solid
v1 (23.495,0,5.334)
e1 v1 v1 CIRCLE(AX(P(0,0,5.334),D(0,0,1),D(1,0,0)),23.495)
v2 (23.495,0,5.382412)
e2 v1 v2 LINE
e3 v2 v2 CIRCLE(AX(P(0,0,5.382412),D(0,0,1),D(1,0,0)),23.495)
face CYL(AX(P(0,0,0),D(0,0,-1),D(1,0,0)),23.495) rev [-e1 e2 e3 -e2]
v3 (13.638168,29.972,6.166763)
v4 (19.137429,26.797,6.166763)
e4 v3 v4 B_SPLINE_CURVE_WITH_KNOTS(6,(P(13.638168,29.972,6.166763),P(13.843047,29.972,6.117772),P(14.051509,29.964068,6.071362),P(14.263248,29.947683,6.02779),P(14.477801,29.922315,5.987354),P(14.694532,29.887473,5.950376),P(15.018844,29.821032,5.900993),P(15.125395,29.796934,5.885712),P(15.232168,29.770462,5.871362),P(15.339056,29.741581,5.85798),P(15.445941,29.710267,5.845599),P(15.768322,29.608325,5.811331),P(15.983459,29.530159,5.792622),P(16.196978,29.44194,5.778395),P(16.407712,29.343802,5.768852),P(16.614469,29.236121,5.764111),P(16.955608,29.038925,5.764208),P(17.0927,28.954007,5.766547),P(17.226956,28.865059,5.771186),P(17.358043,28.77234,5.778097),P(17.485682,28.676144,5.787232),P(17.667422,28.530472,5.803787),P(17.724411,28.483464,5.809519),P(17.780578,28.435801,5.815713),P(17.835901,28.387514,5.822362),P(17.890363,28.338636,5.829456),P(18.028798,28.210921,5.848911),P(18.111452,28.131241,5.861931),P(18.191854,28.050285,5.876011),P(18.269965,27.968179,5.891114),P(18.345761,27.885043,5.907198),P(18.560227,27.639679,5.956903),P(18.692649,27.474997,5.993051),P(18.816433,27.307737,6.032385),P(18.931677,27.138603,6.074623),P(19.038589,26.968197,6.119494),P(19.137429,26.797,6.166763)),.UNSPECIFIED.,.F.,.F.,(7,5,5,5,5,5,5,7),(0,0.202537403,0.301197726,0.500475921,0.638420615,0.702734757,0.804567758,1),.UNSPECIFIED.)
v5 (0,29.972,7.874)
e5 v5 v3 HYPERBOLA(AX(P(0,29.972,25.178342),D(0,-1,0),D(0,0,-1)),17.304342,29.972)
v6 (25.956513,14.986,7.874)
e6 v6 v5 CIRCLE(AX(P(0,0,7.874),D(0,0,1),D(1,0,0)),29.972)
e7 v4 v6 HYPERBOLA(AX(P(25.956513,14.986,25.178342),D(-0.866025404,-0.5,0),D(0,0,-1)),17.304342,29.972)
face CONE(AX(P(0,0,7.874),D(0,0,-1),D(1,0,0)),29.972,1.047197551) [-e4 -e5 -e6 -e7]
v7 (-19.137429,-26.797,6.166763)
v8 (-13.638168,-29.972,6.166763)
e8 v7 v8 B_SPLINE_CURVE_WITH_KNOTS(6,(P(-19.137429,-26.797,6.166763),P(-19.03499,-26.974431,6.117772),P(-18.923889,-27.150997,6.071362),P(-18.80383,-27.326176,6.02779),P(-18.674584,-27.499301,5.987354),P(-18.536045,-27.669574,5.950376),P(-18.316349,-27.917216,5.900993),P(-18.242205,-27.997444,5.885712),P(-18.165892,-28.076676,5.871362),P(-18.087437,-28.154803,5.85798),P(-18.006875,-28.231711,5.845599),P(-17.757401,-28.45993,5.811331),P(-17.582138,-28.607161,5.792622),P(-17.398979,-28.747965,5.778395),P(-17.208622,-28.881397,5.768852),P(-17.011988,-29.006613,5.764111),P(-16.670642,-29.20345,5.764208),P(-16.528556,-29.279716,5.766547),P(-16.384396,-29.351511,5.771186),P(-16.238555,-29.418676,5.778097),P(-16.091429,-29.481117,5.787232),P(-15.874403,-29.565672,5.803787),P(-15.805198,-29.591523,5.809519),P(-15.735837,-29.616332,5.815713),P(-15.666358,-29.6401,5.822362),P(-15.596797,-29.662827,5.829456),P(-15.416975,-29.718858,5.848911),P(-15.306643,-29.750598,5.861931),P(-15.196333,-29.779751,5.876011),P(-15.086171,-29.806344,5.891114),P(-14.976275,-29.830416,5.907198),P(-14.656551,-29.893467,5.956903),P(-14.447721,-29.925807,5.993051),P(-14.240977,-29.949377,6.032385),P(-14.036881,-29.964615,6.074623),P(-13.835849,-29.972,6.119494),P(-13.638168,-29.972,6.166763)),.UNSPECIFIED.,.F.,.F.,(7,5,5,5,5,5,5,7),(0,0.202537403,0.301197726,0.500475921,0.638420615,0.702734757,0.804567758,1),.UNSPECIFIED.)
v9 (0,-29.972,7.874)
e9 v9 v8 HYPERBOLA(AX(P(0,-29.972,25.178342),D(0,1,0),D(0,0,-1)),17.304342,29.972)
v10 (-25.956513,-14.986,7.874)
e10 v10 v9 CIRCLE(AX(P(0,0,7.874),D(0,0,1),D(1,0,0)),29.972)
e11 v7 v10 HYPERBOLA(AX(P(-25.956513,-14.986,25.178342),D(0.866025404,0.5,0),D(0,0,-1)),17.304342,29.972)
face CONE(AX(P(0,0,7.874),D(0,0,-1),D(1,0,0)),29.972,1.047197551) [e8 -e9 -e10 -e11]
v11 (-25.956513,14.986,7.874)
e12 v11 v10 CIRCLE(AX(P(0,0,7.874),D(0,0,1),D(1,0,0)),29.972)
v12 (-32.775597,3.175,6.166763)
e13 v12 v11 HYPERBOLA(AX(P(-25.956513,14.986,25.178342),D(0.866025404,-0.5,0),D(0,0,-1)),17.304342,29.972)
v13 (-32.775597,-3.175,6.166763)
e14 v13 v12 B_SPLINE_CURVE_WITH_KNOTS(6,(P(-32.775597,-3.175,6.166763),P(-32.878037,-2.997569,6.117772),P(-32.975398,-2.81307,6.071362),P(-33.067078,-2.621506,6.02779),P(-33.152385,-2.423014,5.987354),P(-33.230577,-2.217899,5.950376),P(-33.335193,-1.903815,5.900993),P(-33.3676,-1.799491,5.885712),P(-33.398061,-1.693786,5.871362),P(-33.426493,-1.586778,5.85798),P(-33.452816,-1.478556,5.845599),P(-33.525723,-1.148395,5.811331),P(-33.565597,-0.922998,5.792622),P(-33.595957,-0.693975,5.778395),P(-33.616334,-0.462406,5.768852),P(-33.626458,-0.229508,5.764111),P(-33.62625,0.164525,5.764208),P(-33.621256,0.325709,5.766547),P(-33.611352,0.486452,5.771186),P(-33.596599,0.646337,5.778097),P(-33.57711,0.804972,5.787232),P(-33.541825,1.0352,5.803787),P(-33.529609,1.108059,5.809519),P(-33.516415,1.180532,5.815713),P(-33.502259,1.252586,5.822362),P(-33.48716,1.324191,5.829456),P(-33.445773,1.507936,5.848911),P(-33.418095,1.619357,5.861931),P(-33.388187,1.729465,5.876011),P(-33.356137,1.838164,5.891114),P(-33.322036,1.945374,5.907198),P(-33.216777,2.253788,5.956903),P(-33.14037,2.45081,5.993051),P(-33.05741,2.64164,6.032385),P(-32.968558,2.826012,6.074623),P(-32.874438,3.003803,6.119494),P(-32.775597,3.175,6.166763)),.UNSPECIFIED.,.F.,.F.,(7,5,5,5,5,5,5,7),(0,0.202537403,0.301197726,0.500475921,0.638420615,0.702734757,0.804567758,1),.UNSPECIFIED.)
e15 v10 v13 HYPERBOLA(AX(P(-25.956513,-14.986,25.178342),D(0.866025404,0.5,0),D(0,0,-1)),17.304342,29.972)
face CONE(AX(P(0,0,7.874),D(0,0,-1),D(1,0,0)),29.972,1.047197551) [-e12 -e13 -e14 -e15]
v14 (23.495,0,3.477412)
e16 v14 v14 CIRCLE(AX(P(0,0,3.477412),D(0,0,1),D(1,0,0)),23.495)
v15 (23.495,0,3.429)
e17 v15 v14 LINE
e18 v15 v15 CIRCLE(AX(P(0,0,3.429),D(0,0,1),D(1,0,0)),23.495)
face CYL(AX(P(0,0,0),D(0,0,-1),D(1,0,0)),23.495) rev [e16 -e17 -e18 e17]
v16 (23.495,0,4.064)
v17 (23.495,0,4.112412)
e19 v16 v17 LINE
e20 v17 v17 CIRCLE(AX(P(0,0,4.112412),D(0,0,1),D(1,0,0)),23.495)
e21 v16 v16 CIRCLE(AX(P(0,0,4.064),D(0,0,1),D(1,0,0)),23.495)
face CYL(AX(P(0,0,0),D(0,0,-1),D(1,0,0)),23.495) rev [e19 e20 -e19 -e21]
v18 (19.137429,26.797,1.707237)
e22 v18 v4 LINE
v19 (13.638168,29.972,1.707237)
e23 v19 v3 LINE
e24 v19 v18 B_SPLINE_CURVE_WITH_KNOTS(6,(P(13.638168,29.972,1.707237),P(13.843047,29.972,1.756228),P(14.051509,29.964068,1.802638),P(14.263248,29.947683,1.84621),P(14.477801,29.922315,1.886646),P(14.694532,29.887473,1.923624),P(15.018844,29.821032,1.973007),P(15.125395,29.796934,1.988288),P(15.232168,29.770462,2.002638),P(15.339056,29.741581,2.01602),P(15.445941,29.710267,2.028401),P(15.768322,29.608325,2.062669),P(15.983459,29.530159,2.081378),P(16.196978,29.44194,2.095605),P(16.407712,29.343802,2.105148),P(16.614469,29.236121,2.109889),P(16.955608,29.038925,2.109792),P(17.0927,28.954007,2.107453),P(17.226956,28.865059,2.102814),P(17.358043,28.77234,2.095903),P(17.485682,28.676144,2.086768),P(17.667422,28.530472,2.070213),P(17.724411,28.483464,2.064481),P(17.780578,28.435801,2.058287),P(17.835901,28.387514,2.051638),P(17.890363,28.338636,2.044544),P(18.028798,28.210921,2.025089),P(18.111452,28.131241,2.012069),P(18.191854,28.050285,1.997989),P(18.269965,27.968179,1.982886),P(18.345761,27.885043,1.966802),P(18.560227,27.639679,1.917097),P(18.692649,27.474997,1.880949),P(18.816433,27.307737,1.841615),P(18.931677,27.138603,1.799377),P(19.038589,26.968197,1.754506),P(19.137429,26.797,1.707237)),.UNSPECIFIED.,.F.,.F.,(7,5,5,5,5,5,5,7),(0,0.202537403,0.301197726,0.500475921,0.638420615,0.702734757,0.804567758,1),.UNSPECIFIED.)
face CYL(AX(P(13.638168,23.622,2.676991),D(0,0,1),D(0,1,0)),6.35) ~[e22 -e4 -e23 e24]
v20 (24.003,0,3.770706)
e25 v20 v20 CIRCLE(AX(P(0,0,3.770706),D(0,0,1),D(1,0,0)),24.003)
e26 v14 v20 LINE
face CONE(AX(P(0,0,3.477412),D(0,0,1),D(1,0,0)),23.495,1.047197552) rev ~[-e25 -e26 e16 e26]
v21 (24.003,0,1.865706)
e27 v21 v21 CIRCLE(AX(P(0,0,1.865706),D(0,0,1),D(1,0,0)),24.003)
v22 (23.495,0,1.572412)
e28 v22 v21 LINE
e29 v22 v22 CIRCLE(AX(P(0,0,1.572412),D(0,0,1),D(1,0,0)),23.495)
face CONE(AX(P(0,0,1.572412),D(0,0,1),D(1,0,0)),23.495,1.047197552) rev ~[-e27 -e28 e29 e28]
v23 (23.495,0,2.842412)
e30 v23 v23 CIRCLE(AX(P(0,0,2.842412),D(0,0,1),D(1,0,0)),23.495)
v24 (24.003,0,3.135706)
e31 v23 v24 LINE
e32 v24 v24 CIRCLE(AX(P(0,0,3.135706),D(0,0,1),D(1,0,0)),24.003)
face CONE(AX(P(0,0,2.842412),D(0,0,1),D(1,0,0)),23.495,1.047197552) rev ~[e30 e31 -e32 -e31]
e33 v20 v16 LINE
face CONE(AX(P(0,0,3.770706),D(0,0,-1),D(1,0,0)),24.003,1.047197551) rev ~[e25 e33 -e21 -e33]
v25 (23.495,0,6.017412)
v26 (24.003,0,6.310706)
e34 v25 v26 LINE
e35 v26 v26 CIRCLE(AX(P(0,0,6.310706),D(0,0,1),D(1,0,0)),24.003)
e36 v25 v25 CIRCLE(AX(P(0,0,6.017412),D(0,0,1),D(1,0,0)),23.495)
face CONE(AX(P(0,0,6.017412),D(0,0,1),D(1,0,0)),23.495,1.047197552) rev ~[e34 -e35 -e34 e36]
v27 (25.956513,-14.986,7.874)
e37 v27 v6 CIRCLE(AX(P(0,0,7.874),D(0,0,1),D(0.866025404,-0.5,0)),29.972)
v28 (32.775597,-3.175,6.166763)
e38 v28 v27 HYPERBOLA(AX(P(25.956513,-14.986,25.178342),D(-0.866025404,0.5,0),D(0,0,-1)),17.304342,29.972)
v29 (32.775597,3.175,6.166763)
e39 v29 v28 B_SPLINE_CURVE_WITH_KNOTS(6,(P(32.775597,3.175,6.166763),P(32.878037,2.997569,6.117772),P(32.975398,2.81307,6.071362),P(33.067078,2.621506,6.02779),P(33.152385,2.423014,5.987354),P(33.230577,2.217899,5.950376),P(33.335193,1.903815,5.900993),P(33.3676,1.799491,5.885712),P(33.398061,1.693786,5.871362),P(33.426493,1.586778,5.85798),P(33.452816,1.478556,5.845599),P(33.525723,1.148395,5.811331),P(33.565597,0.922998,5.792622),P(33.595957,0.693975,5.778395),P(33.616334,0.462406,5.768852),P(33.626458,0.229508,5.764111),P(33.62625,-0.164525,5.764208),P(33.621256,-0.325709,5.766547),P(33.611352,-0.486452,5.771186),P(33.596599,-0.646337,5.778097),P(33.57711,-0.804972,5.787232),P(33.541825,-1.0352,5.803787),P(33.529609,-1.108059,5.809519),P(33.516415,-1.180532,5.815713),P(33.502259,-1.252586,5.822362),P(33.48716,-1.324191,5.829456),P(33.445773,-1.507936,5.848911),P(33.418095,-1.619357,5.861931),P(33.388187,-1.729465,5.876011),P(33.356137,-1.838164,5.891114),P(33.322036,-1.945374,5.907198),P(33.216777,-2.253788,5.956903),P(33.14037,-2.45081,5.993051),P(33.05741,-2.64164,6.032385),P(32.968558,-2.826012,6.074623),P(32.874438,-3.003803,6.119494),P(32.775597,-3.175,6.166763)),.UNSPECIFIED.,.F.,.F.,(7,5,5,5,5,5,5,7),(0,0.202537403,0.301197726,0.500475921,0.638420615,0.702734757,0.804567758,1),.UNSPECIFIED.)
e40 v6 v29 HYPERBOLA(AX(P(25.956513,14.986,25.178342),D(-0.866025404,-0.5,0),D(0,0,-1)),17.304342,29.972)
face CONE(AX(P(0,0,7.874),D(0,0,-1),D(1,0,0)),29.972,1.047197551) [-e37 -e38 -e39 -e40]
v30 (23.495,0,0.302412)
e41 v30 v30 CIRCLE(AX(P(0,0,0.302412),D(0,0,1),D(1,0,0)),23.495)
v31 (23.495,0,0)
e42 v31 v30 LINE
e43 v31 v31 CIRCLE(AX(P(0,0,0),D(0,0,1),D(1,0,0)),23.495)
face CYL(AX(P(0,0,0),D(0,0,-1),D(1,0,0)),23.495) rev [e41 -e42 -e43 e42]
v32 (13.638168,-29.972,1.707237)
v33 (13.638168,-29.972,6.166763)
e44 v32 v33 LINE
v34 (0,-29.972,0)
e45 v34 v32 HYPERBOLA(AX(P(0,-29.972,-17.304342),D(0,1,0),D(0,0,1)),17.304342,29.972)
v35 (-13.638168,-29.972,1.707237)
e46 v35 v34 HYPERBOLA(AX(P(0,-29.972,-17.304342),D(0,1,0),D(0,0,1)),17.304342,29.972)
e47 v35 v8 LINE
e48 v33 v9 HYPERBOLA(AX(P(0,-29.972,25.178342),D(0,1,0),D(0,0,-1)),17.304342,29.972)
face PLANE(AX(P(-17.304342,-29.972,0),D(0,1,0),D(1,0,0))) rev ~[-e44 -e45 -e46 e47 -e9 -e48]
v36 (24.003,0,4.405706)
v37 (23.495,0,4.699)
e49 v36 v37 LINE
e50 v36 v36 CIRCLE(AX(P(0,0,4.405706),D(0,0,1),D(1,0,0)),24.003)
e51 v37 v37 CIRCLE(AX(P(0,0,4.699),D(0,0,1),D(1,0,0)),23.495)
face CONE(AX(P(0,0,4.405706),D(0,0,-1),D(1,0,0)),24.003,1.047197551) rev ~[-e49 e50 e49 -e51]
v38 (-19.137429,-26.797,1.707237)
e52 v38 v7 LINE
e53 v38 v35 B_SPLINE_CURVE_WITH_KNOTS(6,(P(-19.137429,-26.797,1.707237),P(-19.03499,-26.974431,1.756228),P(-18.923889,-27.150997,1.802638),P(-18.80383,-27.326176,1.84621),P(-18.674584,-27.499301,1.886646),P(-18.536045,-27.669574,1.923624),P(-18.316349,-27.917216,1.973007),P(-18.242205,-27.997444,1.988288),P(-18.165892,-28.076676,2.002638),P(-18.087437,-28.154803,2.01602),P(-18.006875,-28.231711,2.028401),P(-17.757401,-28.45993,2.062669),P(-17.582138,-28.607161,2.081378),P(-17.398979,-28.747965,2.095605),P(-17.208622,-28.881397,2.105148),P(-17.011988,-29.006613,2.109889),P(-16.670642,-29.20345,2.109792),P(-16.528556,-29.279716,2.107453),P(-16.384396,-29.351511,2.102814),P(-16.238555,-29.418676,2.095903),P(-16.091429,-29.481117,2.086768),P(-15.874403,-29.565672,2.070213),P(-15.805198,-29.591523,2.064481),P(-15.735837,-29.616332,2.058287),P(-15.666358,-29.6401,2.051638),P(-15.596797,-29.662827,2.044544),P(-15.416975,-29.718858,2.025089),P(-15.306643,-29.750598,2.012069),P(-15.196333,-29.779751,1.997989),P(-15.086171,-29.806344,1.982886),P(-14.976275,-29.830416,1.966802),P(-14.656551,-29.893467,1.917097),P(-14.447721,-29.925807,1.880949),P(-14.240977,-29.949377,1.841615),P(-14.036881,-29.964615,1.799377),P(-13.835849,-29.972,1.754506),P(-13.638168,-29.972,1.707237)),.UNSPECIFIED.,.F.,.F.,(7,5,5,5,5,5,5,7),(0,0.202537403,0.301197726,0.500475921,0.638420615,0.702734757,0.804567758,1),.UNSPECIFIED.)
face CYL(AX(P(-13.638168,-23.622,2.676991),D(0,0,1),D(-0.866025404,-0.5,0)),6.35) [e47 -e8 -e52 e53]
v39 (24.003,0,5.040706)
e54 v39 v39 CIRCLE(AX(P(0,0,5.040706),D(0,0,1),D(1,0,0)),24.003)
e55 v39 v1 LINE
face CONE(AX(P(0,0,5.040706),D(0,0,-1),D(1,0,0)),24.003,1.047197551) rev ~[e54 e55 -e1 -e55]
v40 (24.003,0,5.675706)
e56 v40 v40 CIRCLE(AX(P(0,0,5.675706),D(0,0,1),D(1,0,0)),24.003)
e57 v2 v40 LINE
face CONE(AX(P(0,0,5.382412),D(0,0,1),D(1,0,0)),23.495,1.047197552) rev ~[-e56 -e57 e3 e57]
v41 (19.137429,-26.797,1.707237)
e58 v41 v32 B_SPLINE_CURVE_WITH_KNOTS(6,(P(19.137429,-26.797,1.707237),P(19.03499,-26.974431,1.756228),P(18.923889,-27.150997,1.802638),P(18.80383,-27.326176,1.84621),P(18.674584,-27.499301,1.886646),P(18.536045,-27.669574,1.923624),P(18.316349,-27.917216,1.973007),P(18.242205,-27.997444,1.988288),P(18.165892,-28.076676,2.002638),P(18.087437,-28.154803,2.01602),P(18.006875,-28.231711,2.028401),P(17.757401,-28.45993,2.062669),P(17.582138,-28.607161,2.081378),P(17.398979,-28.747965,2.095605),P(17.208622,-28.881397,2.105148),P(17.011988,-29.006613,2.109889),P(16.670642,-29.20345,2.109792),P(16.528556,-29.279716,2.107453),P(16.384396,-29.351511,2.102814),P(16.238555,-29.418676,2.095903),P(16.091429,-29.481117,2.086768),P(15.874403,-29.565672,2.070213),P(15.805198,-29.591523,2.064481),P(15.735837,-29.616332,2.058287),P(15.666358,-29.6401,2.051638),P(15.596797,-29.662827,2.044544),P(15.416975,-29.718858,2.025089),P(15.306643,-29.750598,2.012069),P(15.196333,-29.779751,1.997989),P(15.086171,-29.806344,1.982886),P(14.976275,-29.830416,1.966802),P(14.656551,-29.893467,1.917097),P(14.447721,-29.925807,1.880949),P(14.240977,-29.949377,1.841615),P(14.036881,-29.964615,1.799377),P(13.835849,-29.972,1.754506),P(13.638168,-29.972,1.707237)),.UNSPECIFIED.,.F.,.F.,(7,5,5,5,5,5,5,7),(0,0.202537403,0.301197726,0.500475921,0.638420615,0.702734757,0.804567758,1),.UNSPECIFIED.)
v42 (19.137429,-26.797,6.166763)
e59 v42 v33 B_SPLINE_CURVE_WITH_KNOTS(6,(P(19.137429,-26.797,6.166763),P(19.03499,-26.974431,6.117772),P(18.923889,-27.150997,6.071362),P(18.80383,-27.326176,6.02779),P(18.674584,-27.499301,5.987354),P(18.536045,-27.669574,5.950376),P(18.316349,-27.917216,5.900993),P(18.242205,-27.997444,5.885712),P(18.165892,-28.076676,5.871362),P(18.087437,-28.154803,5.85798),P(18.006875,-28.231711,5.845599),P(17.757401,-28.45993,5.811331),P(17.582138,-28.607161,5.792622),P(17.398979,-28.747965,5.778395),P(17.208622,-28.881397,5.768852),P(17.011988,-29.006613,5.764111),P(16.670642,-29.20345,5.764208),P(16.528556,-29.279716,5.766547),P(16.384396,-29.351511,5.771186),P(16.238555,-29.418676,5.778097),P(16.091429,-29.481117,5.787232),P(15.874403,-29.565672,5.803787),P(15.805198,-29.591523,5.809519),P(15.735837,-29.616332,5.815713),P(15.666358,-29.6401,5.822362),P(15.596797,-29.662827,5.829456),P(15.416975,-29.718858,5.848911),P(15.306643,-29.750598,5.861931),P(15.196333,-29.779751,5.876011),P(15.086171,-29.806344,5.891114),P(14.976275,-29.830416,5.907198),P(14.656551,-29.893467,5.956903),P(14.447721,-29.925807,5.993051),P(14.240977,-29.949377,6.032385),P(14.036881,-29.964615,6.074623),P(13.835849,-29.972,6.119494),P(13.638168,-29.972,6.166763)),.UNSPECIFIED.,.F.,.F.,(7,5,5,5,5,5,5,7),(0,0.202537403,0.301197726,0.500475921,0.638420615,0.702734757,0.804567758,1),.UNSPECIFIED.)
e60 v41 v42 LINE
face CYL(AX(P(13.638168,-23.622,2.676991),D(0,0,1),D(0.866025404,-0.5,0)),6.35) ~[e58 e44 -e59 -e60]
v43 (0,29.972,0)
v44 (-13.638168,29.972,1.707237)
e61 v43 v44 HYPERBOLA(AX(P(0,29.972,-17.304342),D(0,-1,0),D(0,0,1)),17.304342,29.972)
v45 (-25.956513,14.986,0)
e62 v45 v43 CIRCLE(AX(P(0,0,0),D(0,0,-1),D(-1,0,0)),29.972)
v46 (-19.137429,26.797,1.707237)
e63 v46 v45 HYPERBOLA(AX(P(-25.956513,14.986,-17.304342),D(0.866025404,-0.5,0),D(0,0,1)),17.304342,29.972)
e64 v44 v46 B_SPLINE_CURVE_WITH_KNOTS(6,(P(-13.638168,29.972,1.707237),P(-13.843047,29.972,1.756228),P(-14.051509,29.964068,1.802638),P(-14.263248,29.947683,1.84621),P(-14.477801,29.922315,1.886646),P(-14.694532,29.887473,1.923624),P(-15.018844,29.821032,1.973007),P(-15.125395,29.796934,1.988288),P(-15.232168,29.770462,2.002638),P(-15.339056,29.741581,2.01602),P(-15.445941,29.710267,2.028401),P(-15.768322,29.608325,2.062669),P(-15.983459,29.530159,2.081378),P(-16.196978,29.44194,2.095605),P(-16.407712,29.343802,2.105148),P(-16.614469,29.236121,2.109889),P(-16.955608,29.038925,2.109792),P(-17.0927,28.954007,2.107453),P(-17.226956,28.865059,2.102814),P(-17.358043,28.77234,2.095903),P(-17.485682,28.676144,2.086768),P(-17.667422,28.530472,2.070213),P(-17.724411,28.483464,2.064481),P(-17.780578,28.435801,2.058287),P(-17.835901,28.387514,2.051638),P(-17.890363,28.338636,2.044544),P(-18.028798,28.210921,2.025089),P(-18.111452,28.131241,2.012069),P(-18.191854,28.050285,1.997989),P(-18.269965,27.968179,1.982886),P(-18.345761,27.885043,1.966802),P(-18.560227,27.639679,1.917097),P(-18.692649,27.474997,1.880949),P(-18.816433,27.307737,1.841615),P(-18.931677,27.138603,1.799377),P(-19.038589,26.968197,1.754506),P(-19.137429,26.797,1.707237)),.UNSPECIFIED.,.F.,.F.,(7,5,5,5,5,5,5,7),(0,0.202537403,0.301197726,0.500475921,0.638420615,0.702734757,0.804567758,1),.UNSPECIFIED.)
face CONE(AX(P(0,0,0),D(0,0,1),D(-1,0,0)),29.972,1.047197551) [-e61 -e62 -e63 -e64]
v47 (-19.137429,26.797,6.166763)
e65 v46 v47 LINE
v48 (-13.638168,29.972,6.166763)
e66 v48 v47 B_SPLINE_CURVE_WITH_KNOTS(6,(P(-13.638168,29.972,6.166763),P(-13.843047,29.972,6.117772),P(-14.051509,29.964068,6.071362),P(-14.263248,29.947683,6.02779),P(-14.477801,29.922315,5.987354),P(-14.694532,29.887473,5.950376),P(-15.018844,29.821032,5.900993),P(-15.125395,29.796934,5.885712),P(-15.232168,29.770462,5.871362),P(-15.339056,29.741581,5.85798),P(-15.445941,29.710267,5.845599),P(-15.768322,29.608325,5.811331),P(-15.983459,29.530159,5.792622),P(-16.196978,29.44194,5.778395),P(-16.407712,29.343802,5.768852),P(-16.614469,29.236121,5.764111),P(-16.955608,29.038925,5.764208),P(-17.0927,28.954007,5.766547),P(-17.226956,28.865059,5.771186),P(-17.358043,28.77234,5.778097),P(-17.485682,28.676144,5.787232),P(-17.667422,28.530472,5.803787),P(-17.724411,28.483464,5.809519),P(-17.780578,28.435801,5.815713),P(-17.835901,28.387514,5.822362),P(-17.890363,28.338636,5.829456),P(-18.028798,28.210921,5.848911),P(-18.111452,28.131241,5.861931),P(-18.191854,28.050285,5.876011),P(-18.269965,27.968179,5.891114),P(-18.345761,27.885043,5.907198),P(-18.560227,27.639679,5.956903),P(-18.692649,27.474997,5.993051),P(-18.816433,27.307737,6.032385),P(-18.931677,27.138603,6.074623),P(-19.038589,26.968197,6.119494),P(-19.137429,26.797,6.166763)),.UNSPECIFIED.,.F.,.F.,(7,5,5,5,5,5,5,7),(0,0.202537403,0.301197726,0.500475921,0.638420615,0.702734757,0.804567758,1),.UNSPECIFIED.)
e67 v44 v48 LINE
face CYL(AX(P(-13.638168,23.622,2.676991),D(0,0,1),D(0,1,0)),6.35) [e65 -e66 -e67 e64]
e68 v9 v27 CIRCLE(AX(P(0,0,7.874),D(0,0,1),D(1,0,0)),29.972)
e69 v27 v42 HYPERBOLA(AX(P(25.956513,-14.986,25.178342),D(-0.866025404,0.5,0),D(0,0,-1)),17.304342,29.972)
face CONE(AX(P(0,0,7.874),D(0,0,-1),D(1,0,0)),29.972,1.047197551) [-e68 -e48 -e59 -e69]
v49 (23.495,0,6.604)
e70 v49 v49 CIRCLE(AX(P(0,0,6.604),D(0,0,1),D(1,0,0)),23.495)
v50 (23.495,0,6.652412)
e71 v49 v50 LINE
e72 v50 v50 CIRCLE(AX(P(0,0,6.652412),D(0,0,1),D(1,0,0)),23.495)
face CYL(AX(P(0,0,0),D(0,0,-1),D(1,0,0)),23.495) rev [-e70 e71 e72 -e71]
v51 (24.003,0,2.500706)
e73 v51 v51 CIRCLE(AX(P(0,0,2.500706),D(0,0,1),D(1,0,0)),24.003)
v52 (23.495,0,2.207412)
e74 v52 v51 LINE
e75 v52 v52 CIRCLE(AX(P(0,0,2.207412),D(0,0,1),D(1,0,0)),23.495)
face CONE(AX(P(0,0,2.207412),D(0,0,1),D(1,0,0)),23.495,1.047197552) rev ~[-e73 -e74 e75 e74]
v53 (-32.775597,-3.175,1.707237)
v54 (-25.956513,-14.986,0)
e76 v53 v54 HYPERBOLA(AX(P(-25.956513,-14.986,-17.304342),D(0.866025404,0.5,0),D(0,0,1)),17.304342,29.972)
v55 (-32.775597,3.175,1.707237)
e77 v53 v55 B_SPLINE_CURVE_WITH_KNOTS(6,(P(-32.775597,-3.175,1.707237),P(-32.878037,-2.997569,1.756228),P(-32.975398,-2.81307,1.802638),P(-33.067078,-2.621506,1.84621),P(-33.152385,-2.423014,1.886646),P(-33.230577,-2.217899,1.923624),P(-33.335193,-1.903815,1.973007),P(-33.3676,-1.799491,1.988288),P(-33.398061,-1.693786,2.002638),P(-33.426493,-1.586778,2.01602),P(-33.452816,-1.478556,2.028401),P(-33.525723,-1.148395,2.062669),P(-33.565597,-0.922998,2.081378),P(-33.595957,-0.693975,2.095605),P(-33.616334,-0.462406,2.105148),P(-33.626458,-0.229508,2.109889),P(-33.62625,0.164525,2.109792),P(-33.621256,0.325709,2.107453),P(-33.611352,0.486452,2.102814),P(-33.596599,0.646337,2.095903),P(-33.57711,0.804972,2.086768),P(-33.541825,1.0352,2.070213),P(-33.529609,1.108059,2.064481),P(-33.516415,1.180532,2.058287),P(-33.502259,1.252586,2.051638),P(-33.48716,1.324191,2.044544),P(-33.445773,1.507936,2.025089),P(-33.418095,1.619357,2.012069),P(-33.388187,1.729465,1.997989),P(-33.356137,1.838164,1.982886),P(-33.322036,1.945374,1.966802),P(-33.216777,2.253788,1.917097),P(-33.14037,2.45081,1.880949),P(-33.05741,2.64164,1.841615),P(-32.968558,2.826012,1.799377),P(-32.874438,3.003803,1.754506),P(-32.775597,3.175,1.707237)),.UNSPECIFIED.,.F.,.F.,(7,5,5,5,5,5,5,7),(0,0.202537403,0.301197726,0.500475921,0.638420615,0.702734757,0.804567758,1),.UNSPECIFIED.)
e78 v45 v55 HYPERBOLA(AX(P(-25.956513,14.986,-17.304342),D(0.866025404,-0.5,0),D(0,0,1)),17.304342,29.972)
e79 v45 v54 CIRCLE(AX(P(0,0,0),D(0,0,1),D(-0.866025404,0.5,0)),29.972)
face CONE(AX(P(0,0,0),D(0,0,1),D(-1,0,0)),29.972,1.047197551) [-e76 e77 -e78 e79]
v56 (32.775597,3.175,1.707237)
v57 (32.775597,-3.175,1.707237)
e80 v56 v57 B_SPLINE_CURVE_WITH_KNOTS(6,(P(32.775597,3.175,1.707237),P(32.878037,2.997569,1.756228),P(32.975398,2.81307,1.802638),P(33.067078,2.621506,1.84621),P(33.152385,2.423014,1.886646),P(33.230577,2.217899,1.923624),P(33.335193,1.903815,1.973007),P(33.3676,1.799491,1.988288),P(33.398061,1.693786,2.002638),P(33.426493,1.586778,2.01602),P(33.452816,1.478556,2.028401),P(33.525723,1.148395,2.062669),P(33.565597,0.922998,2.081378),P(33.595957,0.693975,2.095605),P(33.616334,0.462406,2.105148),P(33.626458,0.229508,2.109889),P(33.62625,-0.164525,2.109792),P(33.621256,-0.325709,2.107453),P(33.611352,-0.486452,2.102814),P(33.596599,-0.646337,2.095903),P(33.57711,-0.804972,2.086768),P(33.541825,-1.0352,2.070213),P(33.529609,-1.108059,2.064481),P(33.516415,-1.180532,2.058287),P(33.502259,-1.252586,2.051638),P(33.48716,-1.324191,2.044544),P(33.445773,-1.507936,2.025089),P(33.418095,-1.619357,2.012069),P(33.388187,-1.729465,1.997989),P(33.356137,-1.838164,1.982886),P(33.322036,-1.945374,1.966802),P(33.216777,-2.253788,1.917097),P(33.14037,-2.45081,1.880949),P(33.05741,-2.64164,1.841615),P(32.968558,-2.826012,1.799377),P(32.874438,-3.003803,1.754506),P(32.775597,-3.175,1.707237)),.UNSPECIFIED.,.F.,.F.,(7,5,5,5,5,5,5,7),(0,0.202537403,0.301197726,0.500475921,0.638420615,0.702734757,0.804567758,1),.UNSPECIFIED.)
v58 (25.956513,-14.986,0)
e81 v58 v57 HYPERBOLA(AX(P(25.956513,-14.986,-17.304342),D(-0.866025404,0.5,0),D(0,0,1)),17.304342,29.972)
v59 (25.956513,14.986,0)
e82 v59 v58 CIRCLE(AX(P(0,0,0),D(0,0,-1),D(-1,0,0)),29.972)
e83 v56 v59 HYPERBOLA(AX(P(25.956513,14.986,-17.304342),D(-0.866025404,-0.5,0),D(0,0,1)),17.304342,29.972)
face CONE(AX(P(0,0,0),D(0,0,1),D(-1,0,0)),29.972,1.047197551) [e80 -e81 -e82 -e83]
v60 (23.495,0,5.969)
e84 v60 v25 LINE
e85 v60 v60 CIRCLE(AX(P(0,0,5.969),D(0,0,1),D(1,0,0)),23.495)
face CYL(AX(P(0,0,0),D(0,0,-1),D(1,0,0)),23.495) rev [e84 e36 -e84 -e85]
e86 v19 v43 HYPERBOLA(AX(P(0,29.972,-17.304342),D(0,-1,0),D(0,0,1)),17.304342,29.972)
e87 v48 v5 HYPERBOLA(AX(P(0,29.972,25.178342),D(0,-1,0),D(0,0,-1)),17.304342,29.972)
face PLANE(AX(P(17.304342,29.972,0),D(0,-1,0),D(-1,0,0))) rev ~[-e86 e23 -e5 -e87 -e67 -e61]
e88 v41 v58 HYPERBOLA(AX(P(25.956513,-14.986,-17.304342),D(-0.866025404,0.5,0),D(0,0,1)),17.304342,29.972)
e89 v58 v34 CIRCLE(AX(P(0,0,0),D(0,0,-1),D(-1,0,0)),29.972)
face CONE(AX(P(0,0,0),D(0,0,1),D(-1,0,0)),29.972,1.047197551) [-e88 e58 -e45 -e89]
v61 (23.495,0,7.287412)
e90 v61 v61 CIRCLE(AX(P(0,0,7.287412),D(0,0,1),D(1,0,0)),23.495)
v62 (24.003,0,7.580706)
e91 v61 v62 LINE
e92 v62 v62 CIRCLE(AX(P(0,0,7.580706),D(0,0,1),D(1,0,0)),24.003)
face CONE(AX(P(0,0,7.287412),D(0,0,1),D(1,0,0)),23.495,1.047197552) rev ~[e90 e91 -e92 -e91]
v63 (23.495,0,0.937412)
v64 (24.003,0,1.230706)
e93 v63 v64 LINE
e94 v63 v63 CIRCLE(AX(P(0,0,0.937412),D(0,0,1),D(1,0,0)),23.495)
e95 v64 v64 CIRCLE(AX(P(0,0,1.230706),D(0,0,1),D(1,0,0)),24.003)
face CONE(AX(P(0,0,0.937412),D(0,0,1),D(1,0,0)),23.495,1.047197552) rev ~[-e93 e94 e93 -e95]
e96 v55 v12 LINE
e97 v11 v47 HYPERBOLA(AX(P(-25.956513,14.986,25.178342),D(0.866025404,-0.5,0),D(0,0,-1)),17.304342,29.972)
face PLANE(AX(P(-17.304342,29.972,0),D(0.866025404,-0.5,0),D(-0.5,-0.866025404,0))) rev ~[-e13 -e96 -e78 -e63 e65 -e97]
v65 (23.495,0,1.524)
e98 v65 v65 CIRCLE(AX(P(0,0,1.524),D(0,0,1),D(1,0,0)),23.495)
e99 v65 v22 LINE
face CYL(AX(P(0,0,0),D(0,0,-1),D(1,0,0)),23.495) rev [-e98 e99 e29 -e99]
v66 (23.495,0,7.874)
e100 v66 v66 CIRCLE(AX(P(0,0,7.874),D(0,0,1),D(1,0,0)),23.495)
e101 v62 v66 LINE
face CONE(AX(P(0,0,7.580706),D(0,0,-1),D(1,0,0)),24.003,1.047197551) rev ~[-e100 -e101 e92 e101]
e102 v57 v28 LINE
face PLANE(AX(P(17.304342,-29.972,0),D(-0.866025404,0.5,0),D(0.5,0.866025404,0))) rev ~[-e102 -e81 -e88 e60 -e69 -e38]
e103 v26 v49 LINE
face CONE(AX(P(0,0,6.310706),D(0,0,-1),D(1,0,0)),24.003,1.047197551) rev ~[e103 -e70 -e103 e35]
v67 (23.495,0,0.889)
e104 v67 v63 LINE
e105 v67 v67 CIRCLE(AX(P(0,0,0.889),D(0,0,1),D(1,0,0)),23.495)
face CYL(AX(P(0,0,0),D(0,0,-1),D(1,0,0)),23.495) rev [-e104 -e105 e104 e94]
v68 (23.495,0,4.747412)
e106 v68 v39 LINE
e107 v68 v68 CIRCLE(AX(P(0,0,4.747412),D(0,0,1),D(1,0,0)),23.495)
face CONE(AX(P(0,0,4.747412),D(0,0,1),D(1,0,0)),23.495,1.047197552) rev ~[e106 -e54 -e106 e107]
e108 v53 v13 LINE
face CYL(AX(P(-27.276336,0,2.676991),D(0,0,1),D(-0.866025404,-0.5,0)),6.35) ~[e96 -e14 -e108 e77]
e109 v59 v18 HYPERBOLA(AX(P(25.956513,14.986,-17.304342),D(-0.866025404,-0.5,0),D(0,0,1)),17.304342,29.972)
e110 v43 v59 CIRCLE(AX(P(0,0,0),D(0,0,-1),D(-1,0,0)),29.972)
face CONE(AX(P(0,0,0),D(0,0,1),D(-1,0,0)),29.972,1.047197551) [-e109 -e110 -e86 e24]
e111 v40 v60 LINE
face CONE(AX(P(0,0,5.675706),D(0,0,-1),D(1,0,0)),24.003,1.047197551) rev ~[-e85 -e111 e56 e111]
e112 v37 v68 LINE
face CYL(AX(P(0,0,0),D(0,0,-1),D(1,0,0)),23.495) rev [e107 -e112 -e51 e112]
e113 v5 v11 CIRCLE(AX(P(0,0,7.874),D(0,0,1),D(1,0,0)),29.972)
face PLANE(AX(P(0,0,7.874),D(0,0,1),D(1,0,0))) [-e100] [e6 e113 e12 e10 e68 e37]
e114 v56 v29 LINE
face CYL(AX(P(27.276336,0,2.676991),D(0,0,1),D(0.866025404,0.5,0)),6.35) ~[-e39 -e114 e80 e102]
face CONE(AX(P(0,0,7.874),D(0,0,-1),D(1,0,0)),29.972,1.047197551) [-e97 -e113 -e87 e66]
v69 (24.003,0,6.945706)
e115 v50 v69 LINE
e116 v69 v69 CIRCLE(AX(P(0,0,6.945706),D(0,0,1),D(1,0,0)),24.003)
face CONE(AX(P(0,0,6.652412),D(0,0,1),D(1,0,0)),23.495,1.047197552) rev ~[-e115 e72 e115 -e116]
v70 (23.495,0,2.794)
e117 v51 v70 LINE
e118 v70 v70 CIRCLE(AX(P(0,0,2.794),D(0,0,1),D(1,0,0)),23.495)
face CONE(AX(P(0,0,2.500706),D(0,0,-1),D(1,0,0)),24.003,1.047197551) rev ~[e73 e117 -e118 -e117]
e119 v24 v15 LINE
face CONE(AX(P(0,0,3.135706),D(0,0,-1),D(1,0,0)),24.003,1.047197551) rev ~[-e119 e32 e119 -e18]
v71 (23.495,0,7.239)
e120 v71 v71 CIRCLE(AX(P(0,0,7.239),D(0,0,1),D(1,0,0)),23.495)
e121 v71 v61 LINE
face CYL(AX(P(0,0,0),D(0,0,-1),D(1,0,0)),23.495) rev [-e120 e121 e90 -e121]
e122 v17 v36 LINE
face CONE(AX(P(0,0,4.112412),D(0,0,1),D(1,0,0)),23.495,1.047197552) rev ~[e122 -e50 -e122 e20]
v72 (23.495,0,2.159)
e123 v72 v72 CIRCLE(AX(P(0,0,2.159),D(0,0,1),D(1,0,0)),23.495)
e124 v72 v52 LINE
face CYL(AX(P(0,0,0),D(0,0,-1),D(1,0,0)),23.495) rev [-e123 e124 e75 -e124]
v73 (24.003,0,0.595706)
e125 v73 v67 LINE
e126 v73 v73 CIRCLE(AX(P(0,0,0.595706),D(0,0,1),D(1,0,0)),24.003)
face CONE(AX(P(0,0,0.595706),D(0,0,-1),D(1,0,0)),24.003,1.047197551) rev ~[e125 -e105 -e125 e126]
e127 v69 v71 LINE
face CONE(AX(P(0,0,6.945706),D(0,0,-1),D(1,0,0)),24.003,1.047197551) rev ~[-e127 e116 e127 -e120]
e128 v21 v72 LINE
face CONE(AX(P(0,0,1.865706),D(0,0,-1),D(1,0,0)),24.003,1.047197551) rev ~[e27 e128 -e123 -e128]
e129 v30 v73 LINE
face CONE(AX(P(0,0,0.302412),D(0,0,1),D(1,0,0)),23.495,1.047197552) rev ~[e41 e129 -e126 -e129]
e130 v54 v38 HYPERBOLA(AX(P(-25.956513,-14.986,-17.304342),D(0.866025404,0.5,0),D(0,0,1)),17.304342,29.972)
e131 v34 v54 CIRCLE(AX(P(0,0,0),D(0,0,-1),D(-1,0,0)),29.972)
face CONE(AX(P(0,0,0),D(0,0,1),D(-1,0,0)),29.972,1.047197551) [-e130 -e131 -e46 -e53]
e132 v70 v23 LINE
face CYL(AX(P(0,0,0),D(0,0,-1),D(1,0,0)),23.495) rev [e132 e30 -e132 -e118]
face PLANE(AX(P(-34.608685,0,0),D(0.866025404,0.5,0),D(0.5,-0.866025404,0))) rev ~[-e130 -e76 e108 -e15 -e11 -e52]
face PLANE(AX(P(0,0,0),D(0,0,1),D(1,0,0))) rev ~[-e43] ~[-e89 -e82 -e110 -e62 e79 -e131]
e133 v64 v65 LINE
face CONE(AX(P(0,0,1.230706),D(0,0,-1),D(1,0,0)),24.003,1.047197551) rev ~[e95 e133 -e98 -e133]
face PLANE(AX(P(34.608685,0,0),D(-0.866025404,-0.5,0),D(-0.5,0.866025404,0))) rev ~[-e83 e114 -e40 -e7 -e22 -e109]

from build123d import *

# Parameters (mm, degrees)
SKETCH1_R          = 23.495
EXTRUDE1_DEPTH     = 7.874
SKETCH2_OUTSIDE_W  = 120.34
SKETCH2_OUTSIDE_H  = 111.066
SKETCH2_OUTSIDE_R  = 29.972
CUT_EXTRUDE1_DEPTH = 8.874
CUT_EXTRUDE1_DRAFT = -60
SKETCH3_OUTSIDE_W  = 120.34
SKETCH3_OUTSIDE_H  = 111.066
SKETCH3_OUTSIDE_R  = 29.972
CUT_EXTRUDE2_DEPTH = 8.874
CUT_EXTRUDE2_DRAFT = -60
FILLET1_R          = 6.35
LPATTERN1_COUNT    = 12
LPATTERN1_PITCH    = 0.635


with BuildPart() as part:
    # Sketch1 → Extrude1 (new body)
    with BuildSketch(Plane.XY):
        Polygon((-34.608684536, 0), (-17.304342268, -29.972), (17.304342268, -29.972), (34.608684536, 0), (17.304342268, 29.972), (-17.304342268, 29.972), align=None)
        Circle(SKETCH1_R, mode=Mode.SUBTRACT)
    extrude(amount=EXTRUDE1_DEPTH)


with BuildPart() as cut_extrude1_tool:
    # Sketch2 outside → Cut-Extrude1 (with draft: the straight prism first)
    with BuildSketch(Plane.XY.offset(7.874)):
        Rectangle(SKETCH2_OUTSIDE_W, SKETCH2_OUTSIDE_H)
        Circle(SKETCH2_OUTSIDE_R, mode=Mode.SUBTRACT)
    extrude(amount=-CUT_EXTRUDE1_DEPTH)
    # Cut-Extrude1: the draft: its side faces are tilted about the plane it starts from
    cut_extrude1_sides = [cut_extrude1_tool.faces().sort_by_distance(p)[0] for p in [
        (0, -55.533, 3.437),
        (60.17, 0, 3.437),
        (0, 55.533, 3.437),
        (-60.17, 0, 3.437),
        (-29.972, 0, 3.437),
    ]]
    draft(cut_extrude1_sides, Plane.XY.offset(7.874), CUT_EXTRUDE1_DRAFT)


with BuildPart() as part_1:
    add(part.part)

    # Cut-Extrude1: cut by cut_extrude1_tool
    add(cut_extrude1_tool.part, mode=Mode.SUBTRACT)


with BuildPart() as cut_extrude2_tool:
    # Sketch3 outside → Cut-Extrude2 (with draft: the straight prism first)
    with BuildSketch(Plane(origin=(0, 0, 0), x_dir=(-1, 0, 0), z_dir=(0, 0, -1))):
        Rectangle(SKETCH3_OUTSIDE_W, SKETCH3_OUTSIDE_H)
        Circle(SKETCH3_OUTSIDE_R, mode=Mode.SUBTRACT)
    extrude(amount=-CUT_EXTRUDE2_DEPTH)
    # Cut-Extrude2: the draft: its side faces are tilted about the plane it starts from
    cut_extrude2_sides = [cut_extrude2_tool.faces().sort_by_distance(p)[0] for p in [
        (0, -55.533, 4.437),
        (-60.17, 0, 4.437),
        (0, 55.533, 4.437),
        (60.17, 0, 4.437),
        (29.972, 0, 4.437),
    ]]
    draft(cut_extrude2_sides, Plane(origin=(0, 0, 0), x_dir=(-1, 0, 0), z_dir=(0, 0, -1)), CUT_EXTRUDE2_DRAFT)


with BuildPart() as part_2:
    add(part_1.part)

    # Cut-Extrude2: cut by cut_extrude2_tool
    add(cut_extrude2_tool.part, mode=Mode.SUBTRACT)

    # Fillet1
    fillet1_edges = [part_2.edges().sort_by_distance(p)[0] for p in [
        (34.608684536, 0, 3.937),
        (17.304342268, -29.972, 3.937),
        (-17.304342268, -29.972, 3.937),
        (-34.608684536, 0, 3.937),
        (-17.304342268, 29.972, 3.937),
        (17.304342268, 29.972, 3.937),
    ]]
    fillet(fillet1_edges, radius=FILLET1_R)

    # Sketch4 → Cut-Revolve1 (revolve, cut)
    with BuildSketch(Plane(origin=(0, 0, 0), x_dir=(1, 0, 0), z_dir=(0, 1, 0)), mode=Mode.PRIVATE) as cut_revolve1_sk:
        Polygon((-23.495, -7.874), (-23.495, -7.287412127), (-24.003, -7.580706063), align=None)
    cut_revolve1 = revolve(cut_revolve1_sk.sketch.rotate(Axis((0, 0, 0), (0, 0, 1)), 180), axis=Axis((0, 0, 0), (0, 0, 1)), mode=Mode.SUBTRACT)  # turned: the seam where the file's is

    # LPattern1: Cut-Revolve1 ×12
    with Locations(*[(0, 0, -i * LPATTERN1_PITCH) for i in range(1, LPATTERN1_COUNT)]):
        add(cut_revolve1, mode=Mode.SUBTRACT)


solid = part_2.part
